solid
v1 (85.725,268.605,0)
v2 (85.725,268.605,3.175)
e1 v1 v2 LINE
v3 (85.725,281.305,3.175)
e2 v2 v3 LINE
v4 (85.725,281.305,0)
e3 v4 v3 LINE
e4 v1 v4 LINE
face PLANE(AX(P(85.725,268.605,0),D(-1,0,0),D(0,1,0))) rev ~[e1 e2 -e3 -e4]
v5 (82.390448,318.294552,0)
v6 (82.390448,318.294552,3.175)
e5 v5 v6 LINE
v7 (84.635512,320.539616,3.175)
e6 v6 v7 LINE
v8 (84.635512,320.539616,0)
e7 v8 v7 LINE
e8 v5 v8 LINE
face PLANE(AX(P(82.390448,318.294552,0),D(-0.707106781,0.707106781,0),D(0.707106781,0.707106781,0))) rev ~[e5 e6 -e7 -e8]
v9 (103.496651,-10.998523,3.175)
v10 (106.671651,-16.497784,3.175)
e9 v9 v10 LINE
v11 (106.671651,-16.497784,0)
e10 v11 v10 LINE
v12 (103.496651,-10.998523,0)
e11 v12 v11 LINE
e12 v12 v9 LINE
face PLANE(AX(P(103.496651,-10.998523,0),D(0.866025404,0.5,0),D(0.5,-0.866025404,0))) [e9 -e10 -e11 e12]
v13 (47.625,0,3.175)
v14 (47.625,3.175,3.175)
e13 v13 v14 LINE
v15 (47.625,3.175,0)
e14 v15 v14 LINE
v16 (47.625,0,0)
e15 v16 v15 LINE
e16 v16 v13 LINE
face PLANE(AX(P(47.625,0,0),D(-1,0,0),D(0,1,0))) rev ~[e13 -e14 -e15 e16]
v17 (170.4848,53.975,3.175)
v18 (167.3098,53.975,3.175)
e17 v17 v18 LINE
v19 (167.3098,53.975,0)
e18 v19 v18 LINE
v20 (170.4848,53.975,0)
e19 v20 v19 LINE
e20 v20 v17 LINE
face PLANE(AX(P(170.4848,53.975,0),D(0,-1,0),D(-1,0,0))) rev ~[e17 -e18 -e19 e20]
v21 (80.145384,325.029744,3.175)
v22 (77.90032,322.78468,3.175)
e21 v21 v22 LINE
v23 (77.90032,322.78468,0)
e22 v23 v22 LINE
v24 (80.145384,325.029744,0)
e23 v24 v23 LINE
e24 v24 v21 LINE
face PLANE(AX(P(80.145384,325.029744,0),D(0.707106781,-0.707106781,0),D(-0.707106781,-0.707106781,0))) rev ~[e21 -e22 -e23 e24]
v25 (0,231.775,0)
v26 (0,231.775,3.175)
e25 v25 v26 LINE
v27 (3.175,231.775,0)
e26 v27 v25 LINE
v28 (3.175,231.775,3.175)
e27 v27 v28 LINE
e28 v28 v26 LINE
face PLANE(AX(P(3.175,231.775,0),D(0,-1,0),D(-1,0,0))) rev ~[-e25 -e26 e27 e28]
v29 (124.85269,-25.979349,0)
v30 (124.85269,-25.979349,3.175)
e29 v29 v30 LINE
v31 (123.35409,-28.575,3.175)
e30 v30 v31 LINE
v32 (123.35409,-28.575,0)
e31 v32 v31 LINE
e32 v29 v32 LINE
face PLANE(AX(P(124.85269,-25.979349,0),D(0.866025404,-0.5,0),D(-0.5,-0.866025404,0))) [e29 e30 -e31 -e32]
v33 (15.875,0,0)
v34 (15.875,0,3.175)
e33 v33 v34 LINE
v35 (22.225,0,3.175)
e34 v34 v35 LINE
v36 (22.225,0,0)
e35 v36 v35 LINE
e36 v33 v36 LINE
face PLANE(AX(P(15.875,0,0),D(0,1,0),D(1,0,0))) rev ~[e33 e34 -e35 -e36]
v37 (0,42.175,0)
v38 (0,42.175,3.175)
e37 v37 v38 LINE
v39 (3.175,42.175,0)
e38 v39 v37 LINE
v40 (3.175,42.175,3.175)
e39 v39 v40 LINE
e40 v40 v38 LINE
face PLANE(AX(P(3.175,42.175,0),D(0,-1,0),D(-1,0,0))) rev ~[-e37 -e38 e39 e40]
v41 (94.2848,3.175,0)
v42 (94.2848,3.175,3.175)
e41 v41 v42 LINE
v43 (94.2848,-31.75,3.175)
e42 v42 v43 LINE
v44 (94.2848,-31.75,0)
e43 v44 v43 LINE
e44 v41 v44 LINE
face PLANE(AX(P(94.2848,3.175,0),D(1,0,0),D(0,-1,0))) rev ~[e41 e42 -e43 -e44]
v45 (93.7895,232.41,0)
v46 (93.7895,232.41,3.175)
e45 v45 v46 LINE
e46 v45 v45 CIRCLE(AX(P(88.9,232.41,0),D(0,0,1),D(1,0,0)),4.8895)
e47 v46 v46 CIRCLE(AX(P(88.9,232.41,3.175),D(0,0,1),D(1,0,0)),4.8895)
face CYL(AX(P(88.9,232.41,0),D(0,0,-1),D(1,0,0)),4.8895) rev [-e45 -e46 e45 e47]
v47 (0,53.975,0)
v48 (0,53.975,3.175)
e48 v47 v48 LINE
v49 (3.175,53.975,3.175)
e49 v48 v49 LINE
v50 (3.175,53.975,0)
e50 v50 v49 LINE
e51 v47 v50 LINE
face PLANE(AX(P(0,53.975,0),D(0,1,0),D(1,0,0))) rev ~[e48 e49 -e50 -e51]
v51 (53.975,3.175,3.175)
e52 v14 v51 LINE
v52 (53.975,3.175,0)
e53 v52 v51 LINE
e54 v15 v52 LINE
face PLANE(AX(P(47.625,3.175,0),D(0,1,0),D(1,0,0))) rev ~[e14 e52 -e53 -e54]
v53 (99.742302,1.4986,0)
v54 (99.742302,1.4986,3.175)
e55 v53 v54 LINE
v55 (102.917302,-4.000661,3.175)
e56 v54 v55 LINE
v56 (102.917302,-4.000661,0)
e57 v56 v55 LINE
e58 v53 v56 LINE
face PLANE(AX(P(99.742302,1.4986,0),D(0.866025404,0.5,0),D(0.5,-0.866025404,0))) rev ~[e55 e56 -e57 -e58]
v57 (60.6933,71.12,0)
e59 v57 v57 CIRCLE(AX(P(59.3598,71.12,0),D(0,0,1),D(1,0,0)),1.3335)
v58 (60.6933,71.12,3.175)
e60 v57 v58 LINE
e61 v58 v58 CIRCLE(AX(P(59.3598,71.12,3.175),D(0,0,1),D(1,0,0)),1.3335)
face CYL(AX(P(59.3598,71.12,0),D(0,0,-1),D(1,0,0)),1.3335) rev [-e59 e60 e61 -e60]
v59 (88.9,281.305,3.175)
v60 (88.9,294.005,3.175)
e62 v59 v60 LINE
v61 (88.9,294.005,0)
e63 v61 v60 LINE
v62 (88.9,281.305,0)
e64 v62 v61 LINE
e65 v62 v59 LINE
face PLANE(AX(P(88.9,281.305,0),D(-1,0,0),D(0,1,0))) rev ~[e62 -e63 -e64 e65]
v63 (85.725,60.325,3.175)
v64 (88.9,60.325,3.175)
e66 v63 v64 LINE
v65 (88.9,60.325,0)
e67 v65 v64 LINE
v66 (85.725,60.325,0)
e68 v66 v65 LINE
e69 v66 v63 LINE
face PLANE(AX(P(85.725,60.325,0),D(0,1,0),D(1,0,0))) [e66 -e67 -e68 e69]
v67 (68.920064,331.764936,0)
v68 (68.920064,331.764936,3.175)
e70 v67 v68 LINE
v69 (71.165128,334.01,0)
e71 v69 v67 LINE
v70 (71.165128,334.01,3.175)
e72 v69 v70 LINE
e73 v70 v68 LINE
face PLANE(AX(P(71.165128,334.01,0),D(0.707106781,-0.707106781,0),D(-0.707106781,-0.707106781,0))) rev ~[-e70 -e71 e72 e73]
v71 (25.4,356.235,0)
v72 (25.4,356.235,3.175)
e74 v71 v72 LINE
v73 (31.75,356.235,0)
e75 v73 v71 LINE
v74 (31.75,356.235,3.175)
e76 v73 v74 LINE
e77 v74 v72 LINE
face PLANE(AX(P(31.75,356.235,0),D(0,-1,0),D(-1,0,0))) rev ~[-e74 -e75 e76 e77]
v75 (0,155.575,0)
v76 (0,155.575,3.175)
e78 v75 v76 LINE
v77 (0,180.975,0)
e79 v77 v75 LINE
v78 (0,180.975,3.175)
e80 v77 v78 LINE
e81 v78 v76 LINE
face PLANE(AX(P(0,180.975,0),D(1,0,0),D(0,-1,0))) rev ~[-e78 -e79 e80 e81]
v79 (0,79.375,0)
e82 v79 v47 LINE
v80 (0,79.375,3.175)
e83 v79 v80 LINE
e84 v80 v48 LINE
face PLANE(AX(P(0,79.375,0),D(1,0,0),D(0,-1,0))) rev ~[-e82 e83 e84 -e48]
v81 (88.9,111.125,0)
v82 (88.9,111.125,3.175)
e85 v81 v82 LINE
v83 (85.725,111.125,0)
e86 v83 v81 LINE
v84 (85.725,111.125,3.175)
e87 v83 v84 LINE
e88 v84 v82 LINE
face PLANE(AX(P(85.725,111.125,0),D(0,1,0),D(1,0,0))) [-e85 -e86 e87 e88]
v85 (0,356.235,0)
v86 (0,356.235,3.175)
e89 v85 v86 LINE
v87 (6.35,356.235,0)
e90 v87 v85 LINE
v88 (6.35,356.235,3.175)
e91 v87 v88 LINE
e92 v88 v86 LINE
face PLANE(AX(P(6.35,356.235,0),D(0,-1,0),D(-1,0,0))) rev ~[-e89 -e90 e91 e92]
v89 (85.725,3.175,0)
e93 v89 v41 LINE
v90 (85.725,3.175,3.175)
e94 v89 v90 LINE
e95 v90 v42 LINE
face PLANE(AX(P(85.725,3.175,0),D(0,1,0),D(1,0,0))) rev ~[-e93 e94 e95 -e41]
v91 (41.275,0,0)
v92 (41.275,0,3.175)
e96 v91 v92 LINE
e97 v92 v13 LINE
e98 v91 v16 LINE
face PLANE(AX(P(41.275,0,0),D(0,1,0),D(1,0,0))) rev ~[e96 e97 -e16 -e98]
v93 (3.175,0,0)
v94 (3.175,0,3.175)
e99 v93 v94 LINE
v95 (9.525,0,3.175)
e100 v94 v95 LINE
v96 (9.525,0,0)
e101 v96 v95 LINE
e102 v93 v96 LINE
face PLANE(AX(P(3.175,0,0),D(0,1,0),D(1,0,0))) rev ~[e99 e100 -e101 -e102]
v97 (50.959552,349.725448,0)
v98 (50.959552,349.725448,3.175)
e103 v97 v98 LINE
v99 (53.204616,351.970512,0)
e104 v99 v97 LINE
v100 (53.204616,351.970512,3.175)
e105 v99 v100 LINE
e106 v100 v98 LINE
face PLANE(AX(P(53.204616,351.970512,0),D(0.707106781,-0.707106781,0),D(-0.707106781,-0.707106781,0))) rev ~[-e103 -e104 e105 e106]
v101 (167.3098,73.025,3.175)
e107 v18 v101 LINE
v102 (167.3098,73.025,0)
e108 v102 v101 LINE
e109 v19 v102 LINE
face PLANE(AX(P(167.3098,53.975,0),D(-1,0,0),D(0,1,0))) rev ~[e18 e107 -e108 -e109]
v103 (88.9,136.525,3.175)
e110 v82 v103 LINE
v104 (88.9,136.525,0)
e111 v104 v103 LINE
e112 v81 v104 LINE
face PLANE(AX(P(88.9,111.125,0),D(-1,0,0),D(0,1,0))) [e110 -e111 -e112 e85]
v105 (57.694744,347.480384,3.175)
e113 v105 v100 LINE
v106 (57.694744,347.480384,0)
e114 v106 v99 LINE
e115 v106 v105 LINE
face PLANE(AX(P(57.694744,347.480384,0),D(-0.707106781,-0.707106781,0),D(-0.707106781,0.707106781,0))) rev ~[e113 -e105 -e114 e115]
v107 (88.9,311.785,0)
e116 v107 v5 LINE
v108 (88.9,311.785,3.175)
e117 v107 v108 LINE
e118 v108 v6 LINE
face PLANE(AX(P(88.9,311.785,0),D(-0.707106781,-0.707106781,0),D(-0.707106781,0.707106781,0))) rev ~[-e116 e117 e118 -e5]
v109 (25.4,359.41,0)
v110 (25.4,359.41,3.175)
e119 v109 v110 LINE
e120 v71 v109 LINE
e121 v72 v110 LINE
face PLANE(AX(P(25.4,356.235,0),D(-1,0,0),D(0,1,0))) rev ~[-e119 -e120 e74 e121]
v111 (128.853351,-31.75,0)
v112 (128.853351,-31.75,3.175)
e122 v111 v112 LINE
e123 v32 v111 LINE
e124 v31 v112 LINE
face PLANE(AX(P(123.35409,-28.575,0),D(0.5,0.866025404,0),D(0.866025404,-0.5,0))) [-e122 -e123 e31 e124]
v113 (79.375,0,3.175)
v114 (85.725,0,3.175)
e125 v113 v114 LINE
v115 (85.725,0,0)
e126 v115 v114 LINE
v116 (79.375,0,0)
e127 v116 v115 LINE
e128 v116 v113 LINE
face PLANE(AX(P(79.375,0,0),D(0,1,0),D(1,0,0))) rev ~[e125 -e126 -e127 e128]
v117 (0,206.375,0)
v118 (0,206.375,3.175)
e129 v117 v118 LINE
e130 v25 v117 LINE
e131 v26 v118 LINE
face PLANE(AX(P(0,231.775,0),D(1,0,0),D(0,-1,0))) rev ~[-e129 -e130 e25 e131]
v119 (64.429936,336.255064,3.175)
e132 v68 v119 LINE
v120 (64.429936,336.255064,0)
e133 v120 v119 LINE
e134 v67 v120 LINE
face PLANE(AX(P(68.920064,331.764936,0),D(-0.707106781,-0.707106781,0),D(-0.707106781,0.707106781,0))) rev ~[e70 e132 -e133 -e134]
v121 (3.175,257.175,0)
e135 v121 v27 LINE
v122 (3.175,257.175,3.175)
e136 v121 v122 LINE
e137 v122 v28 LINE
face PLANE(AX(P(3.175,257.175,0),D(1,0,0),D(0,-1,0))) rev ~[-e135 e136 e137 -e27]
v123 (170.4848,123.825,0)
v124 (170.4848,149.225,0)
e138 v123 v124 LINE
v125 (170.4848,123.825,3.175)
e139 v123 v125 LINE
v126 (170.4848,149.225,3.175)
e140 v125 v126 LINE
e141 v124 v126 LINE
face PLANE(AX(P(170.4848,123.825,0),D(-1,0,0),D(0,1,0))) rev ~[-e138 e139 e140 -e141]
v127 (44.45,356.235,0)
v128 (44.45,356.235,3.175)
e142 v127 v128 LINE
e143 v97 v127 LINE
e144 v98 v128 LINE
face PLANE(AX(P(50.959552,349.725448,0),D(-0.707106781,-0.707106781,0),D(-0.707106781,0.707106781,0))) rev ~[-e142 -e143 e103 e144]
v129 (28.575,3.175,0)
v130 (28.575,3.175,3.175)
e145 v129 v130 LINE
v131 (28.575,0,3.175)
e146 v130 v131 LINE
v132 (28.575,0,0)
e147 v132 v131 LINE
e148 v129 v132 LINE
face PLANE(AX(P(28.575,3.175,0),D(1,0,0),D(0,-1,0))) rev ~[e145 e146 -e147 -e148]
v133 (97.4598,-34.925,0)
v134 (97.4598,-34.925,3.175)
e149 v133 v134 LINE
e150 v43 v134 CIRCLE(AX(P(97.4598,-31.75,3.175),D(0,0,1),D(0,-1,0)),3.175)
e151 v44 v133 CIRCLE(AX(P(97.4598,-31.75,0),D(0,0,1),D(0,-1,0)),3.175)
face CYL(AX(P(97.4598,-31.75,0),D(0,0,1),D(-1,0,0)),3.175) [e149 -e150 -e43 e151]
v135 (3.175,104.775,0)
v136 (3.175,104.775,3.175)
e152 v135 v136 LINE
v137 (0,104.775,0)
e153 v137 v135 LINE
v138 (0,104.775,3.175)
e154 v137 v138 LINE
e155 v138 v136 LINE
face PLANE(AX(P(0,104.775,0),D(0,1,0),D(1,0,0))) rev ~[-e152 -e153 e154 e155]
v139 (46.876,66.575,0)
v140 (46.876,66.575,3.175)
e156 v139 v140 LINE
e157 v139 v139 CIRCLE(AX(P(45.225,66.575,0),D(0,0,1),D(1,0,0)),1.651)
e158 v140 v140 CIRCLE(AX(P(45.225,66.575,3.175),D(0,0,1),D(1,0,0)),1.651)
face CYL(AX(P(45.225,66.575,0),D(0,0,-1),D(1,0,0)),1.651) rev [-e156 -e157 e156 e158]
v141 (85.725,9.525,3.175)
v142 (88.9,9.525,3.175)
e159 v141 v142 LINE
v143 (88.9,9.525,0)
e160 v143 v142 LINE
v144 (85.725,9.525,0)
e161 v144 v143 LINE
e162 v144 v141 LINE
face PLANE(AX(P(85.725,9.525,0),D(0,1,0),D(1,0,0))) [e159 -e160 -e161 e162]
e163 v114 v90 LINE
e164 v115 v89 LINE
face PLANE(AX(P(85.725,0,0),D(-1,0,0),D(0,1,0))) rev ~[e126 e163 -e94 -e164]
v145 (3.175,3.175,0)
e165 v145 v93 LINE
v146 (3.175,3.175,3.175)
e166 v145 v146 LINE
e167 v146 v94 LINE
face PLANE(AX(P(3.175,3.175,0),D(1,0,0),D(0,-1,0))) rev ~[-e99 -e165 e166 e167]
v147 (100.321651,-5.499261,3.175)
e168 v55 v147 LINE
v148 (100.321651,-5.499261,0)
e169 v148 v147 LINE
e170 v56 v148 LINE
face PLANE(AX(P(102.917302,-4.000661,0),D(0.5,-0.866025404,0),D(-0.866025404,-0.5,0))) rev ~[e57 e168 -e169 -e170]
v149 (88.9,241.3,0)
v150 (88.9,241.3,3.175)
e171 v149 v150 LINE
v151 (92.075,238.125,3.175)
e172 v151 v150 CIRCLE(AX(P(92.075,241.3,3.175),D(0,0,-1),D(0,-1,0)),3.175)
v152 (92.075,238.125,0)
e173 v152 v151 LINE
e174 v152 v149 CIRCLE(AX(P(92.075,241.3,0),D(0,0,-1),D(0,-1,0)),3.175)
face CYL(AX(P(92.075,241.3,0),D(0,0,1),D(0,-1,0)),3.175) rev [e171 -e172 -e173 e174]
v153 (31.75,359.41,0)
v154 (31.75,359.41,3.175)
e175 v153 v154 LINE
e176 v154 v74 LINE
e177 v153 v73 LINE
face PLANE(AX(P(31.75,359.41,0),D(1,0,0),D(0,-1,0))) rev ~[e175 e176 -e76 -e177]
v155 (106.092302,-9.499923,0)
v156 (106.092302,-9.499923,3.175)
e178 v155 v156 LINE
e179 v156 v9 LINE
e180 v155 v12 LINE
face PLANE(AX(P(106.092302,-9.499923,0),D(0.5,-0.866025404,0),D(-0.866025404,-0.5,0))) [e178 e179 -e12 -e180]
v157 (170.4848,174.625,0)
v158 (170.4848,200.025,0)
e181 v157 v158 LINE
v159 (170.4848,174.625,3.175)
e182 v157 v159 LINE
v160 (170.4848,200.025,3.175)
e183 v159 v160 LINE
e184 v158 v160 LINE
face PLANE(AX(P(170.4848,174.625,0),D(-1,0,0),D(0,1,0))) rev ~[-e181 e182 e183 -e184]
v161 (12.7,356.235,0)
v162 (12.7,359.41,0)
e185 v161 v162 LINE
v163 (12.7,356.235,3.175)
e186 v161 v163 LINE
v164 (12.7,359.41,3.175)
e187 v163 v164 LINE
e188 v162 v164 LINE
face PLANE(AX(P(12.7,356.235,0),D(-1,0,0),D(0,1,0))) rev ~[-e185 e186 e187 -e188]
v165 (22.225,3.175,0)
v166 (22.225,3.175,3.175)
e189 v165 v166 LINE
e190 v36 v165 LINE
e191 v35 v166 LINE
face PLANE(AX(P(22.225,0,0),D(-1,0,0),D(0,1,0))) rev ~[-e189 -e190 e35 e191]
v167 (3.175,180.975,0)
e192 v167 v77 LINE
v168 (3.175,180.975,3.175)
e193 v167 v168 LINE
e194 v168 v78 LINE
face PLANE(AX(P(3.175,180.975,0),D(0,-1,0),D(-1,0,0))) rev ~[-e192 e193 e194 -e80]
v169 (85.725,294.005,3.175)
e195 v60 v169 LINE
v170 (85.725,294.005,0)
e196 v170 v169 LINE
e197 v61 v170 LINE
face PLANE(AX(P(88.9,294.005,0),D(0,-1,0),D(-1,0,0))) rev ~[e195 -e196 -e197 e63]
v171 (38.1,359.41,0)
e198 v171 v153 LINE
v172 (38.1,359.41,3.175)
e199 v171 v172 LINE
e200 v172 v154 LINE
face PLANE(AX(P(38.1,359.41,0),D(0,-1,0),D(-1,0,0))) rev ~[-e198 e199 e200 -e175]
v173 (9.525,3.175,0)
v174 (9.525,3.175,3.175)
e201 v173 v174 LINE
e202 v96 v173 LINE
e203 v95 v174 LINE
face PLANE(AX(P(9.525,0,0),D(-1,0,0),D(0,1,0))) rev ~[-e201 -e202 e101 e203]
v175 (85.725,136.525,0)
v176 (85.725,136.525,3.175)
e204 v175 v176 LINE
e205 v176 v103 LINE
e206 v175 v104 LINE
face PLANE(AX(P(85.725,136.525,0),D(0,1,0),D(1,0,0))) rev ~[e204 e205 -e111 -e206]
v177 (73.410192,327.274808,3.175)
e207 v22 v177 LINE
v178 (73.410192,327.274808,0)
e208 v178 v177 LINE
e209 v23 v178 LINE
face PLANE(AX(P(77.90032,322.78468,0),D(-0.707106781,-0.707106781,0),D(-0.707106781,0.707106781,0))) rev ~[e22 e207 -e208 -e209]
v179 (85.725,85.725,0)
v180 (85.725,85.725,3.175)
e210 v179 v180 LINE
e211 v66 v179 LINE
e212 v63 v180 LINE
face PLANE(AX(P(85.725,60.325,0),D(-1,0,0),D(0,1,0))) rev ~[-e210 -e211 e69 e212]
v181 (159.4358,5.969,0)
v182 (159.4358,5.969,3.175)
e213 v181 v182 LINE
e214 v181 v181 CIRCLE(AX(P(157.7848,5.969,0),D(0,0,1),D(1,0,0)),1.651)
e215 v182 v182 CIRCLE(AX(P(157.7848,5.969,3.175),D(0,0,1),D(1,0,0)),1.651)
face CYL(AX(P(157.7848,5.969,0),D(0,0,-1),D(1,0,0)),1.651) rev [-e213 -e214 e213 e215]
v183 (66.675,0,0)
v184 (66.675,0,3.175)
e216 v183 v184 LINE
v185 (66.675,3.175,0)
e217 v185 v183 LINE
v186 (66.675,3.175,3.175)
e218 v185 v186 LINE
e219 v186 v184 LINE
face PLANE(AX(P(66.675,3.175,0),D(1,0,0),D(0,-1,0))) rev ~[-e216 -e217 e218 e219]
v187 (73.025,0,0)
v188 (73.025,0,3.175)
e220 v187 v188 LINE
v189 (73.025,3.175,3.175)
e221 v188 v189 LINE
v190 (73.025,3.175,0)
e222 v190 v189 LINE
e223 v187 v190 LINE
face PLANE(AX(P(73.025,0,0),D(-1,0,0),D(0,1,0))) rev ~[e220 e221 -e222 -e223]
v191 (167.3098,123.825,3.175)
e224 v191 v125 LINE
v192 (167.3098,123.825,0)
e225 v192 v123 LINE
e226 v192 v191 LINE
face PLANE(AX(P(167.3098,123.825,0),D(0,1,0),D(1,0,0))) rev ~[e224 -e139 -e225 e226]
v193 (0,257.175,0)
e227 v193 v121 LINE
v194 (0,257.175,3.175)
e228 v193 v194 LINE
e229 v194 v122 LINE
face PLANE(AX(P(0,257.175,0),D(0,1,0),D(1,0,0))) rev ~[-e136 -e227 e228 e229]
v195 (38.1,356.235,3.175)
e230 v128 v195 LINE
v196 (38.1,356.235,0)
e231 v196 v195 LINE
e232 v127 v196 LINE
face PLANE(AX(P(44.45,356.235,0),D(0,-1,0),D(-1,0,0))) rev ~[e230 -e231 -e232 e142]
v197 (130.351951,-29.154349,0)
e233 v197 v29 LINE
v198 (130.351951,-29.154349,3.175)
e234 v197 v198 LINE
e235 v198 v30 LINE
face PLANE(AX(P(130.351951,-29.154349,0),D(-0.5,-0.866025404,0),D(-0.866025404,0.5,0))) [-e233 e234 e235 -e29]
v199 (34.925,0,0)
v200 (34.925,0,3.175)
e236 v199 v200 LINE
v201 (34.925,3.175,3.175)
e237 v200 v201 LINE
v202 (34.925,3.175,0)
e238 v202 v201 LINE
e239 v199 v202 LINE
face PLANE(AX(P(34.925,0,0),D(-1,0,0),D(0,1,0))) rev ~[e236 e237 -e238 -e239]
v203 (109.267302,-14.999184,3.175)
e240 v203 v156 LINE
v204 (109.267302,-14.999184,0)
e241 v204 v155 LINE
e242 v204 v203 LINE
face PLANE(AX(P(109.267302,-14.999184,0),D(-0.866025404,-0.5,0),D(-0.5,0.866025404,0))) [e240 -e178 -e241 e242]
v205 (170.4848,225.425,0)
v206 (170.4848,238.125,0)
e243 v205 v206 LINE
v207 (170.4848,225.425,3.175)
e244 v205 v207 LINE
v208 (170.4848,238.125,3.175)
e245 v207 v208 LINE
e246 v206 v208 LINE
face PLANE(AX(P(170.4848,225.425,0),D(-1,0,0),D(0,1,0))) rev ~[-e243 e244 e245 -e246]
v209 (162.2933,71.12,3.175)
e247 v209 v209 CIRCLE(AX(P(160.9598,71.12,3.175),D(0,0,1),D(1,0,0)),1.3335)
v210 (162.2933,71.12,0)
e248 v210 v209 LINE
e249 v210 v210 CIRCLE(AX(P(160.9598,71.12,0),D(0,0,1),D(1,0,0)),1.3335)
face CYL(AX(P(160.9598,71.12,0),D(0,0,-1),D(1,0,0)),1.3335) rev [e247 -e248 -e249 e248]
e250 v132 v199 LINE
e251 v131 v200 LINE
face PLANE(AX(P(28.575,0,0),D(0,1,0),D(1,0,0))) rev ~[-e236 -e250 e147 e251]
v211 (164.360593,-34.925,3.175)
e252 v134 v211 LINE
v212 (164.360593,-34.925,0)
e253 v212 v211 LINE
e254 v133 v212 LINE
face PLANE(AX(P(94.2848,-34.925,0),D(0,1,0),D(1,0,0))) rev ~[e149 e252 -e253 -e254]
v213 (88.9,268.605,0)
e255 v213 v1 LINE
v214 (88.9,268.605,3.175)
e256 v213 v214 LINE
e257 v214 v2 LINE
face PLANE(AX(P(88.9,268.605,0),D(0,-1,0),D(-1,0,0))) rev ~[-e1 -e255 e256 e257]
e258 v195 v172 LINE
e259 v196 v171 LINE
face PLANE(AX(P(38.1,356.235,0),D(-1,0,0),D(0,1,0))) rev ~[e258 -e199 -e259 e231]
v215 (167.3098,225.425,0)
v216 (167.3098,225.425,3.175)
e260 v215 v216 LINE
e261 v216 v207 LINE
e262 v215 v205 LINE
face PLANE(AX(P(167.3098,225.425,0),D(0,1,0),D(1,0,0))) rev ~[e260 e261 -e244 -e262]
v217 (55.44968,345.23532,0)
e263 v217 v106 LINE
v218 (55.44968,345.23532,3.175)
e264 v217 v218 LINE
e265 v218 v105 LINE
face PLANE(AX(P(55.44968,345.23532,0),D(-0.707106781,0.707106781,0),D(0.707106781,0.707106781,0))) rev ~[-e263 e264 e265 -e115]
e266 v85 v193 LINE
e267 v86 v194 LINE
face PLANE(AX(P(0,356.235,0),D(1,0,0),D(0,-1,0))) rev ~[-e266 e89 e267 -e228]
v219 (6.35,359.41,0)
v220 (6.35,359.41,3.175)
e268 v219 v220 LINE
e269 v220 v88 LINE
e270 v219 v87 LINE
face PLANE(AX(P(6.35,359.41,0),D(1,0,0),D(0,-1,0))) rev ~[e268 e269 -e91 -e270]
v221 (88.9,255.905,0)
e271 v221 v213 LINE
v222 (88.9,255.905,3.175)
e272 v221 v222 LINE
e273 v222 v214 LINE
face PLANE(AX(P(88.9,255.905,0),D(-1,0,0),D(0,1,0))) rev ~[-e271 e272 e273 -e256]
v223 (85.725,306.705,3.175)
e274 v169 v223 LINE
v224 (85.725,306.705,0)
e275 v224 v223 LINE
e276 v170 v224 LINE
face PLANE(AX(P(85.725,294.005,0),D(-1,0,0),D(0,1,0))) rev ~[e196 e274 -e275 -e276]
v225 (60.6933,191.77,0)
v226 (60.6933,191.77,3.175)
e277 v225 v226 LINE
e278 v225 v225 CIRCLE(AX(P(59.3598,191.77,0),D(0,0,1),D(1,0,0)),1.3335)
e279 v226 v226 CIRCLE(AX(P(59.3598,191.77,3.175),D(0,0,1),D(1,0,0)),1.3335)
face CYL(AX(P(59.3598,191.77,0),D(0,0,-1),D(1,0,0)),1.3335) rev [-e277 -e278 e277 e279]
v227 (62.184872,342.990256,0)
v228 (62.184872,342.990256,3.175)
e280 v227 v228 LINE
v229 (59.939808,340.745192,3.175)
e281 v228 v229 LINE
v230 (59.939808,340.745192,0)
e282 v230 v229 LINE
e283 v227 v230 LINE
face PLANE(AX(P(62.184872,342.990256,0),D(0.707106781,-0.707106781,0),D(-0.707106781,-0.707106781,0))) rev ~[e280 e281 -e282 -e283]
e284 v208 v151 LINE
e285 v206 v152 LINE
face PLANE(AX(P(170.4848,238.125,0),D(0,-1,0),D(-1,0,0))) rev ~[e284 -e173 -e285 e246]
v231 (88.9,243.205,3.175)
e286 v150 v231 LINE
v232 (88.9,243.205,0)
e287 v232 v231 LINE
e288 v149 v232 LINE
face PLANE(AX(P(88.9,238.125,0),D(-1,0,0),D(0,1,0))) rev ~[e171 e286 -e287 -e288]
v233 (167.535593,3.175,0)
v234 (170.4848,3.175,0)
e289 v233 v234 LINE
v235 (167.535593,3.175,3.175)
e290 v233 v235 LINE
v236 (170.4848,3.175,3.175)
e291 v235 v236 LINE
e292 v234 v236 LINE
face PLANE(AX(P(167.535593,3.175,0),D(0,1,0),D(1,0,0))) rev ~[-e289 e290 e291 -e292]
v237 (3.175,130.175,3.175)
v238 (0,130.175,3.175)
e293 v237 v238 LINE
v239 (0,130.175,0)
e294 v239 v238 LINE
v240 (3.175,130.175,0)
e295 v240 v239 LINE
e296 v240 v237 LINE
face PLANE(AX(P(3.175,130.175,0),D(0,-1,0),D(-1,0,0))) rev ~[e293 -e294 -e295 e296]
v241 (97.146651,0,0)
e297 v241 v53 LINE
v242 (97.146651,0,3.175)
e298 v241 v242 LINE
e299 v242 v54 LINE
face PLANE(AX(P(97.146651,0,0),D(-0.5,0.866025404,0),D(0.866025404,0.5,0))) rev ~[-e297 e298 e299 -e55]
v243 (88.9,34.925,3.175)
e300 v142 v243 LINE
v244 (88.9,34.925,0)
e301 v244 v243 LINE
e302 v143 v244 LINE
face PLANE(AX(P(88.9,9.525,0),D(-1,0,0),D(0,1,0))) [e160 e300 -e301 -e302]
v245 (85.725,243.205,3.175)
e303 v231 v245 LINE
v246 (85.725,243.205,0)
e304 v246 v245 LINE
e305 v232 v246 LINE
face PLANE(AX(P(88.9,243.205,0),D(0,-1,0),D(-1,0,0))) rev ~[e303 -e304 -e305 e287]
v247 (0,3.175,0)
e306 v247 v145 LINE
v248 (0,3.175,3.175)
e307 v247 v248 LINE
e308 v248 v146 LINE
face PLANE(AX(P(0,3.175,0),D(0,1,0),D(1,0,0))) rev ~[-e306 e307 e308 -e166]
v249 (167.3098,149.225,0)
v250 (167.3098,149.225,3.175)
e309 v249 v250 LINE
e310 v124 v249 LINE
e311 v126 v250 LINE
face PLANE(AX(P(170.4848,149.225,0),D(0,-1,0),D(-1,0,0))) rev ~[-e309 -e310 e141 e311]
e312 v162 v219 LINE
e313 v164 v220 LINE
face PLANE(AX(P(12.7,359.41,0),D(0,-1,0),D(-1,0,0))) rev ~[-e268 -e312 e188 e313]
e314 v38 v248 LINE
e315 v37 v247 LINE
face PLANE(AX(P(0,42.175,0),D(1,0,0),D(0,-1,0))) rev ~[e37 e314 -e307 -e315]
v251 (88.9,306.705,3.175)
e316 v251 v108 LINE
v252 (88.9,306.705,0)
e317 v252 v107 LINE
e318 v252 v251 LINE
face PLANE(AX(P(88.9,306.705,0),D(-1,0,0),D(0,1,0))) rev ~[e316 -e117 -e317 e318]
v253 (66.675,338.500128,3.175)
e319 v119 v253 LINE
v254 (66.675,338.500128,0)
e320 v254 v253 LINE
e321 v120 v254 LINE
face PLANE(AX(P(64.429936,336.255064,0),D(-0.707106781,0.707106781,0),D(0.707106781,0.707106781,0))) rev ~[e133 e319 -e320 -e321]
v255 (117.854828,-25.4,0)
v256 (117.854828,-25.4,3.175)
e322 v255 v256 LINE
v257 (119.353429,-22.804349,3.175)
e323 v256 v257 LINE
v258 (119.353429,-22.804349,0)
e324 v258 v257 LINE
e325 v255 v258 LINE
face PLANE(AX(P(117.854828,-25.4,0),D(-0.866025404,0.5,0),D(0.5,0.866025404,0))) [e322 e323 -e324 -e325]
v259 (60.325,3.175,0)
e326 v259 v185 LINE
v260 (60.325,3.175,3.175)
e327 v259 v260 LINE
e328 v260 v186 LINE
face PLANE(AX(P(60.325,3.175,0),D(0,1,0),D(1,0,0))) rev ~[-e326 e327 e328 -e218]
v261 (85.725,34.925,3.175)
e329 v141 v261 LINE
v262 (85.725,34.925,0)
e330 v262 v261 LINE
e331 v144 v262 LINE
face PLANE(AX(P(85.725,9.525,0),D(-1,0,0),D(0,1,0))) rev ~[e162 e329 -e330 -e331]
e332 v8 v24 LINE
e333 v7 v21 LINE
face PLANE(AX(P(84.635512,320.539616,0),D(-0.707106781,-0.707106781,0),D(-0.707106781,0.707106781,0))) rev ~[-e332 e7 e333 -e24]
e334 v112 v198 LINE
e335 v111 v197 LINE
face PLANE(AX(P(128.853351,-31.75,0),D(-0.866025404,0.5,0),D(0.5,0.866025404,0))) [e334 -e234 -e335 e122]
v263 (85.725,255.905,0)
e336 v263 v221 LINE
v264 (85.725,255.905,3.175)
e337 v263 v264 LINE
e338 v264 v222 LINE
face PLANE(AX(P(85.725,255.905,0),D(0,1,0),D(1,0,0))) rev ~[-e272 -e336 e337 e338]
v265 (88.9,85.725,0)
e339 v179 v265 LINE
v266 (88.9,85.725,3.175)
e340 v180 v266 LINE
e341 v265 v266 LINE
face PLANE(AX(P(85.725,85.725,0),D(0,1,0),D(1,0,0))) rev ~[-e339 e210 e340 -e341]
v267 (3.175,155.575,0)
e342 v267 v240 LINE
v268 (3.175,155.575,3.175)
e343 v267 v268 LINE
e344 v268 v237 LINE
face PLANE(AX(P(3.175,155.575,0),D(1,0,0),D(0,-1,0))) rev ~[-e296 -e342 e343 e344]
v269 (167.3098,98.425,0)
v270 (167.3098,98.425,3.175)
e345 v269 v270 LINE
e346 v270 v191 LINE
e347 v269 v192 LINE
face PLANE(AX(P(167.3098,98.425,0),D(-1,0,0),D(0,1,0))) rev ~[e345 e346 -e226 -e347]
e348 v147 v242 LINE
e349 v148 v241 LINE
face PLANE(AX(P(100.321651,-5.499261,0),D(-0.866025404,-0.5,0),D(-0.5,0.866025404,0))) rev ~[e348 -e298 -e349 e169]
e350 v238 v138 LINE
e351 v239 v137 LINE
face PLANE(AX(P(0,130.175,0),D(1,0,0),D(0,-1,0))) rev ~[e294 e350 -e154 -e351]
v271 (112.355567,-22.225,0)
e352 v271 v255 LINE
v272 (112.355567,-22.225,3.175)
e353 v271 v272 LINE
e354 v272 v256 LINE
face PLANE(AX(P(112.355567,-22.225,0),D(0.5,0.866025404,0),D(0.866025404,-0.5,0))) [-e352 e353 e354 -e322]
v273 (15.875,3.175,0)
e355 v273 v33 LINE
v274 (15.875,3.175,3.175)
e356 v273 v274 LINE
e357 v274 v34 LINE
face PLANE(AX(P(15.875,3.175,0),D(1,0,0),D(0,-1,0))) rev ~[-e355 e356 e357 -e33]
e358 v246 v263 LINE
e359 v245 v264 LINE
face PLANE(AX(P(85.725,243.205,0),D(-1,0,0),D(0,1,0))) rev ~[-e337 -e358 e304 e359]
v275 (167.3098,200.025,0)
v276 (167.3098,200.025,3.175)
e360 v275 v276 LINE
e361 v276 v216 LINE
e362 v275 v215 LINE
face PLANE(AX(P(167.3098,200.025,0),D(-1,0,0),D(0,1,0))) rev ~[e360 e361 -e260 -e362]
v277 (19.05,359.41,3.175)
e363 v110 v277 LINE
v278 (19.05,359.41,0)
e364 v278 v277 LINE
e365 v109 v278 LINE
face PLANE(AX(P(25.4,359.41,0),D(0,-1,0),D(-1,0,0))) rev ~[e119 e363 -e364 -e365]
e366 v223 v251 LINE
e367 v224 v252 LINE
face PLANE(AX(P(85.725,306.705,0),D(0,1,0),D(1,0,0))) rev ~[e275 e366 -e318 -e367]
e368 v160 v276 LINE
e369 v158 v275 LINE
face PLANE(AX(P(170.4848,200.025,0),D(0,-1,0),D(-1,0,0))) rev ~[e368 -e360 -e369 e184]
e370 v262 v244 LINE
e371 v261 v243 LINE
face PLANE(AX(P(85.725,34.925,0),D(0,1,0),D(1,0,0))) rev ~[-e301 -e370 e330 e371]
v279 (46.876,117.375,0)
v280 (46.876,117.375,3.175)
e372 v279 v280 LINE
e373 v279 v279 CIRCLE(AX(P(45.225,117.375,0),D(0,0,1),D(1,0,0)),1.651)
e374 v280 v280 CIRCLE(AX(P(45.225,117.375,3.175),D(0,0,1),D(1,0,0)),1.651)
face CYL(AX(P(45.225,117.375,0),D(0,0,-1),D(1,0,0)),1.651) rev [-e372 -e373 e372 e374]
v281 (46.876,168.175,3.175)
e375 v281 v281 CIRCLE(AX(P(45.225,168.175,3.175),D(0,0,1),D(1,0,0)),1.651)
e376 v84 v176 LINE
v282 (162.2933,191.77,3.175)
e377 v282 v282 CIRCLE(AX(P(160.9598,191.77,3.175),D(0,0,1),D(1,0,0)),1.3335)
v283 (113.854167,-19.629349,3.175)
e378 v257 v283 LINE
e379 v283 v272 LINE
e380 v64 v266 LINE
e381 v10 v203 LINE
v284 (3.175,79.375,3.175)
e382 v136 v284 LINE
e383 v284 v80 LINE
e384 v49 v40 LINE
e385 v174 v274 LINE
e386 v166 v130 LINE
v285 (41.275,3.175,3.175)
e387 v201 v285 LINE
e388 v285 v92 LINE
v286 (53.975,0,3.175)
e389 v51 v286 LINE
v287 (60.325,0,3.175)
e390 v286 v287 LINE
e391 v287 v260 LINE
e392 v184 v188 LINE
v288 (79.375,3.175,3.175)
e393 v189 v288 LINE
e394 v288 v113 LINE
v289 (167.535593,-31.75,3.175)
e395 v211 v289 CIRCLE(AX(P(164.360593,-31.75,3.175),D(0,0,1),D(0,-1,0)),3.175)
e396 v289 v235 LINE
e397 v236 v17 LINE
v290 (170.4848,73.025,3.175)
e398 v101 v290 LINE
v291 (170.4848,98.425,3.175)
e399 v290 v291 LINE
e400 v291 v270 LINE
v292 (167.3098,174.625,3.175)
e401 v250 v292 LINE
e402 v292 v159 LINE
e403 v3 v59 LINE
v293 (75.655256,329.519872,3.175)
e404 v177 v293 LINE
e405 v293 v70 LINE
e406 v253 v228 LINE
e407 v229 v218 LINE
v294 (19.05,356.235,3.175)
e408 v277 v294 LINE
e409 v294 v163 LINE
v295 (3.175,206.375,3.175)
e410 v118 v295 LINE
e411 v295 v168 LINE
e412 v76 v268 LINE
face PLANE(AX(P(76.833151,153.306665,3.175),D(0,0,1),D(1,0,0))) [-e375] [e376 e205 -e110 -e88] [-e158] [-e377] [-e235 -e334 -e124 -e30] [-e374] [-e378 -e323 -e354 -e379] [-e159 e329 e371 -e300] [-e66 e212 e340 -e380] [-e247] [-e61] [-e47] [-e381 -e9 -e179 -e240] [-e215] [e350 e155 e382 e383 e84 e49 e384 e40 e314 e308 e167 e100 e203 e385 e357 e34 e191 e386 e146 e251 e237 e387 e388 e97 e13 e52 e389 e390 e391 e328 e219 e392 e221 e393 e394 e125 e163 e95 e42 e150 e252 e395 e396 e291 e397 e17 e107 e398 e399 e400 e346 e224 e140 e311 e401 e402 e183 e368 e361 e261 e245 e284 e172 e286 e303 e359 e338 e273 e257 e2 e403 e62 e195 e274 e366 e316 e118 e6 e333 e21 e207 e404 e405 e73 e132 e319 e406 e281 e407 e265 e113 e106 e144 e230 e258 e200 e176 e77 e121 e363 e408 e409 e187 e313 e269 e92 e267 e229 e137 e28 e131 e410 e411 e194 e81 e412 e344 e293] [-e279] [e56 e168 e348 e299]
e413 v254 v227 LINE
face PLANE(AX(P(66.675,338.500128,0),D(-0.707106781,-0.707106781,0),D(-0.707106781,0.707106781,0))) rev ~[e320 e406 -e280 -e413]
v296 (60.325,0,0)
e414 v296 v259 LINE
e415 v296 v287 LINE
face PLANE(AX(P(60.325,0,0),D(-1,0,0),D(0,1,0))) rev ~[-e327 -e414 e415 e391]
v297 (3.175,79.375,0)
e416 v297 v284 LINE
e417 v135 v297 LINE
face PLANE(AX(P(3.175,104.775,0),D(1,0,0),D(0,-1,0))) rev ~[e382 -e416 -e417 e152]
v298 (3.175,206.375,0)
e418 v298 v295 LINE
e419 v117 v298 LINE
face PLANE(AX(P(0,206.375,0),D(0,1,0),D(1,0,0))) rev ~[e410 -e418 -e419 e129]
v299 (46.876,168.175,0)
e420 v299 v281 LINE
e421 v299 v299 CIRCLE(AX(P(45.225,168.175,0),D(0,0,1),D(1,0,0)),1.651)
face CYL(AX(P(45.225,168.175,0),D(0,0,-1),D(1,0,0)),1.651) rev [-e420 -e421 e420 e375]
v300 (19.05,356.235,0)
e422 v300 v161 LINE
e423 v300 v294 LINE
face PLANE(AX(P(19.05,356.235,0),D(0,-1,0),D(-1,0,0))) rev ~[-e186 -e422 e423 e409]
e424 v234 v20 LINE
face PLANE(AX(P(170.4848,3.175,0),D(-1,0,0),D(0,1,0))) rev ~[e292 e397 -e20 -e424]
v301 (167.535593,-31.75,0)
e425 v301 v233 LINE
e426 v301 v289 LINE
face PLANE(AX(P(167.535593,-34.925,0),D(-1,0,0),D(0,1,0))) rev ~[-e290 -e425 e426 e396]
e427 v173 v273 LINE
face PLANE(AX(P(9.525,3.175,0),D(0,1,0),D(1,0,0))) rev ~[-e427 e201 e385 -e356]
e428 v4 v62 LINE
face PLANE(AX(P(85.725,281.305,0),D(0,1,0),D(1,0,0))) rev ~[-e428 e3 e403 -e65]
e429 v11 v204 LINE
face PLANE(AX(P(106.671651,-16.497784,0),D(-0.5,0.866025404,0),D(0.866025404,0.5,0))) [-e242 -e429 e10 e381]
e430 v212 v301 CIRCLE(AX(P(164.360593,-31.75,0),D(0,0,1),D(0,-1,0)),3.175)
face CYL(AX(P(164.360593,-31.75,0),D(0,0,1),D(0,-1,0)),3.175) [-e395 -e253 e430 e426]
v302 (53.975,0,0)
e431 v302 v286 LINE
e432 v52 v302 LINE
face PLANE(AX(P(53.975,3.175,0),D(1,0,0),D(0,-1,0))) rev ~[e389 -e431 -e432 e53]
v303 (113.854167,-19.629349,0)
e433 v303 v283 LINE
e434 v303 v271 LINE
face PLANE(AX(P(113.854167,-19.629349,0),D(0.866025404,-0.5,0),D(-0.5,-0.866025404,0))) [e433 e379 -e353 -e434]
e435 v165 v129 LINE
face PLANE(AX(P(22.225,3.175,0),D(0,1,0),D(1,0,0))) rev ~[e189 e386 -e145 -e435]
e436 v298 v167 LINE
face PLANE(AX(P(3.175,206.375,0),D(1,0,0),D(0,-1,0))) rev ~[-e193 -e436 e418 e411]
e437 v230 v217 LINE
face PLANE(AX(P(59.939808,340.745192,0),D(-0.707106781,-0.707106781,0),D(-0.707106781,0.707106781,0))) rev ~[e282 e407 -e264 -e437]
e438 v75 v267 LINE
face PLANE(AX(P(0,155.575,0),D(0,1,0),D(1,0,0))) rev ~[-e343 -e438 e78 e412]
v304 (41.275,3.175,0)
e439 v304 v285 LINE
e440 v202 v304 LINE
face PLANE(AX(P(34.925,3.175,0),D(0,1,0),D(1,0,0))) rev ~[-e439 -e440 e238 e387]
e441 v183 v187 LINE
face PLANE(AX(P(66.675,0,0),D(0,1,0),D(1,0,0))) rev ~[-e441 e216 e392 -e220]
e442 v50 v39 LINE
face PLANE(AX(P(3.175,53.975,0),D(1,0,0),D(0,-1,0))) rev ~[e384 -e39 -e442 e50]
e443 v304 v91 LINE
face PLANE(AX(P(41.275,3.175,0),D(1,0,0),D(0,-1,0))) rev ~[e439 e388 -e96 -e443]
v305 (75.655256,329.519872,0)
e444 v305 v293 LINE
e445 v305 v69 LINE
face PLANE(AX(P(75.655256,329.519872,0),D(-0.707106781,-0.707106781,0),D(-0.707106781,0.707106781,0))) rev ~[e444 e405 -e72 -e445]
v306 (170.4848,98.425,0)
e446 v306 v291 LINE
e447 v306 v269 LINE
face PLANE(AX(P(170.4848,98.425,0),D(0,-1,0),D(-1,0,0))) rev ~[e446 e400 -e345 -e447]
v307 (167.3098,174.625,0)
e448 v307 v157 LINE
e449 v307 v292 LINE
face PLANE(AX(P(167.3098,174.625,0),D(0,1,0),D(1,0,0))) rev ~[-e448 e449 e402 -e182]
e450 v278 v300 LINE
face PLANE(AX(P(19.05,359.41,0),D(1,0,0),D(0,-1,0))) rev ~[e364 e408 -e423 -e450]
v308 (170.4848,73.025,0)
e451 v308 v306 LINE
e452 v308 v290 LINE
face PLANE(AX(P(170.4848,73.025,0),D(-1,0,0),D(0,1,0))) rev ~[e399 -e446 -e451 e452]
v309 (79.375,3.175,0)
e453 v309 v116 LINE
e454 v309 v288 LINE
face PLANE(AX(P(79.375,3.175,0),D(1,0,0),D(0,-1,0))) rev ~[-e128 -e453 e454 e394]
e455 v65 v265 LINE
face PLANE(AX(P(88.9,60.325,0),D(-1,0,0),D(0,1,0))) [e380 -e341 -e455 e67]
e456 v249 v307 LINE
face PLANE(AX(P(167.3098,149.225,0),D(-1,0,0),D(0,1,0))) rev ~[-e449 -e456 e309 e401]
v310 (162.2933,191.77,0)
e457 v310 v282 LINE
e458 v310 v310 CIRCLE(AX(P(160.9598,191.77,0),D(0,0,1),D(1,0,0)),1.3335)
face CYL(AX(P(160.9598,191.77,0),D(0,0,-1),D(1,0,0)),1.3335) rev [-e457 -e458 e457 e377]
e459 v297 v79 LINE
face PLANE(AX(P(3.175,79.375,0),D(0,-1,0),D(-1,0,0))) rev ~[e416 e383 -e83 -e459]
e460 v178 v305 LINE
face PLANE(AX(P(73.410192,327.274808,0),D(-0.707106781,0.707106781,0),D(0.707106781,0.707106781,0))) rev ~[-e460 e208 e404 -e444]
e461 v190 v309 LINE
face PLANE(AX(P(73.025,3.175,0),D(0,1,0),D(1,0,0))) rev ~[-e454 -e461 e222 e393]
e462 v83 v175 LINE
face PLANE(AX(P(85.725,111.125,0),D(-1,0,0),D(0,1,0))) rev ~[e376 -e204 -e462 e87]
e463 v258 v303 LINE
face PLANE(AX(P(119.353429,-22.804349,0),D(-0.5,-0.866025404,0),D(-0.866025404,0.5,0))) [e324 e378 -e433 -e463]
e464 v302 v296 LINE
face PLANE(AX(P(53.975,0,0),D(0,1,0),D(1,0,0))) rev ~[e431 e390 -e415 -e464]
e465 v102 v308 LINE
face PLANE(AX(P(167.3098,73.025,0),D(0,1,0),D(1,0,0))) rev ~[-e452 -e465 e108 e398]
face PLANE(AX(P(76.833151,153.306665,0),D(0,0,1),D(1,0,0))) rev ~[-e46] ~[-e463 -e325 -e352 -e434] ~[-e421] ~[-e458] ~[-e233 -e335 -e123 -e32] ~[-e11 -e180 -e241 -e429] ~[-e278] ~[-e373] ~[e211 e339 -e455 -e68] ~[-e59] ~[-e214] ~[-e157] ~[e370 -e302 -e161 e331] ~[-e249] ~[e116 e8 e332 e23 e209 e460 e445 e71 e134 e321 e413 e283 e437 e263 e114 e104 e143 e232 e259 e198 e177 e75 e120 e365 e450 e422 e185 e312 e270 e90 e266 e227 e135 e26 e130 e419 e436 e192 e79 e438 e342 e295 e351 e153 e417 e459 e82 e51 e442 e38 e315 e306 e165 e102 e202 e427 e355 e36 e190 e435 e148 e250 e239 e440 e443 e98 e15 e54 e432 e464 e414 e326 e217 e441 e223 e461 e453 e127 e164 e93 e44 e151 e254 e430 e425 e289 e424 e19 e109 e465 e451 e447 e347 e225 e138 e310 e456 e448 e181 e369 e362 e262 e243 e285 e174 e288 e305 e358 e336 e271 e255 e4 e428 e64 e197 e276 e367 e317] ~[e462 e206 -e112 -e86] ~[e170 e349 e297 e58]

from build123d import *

# Parameters (mm, degrees)
SKETCH1_R           = 4.8895
SKETCH1_R_2         = 1.3335
SKETCH1_R_3         = 1.651
SKETCH1_W           = 3.175
SKETCH1_H           = 25.4
BOSS_EXTRUDE2_DEPTH = 3.175
FILLET1_R           = 3.175


with BuildPart() as part:
    # Sketch1 → Boss-Extrude2 (new body)
    with BuildSketch(Plane.XY):
        Polygon((0, 3.175), (3.175, 3.175), (3.175, 0), (9.525, 0), (9.525, 3.175), (15.875, 3.175), (15.875, 0), (22.225, 0), (22.225, 3.175), (28.575, 3.175), (28.575, 0), (34.925, 0), (34.925, 3.175), (41.275, 3.175), (41.275, 0), (47.625, 0), (47.625, 3.175), (53.975, 3.175), (53.975, 0), (60.325, 0), (60.325, 3.175), (66.675, 3.175), (66.675, 0), (73.025, 0), (73.025, 3.175), (79.375, 3.175), (79.375, 0), (85.725, 0), (85.725, 3.175), (88.9, 3.175), (94.2848, 3.175), (94.2848, -34.925), (167.535593046, -34.925), (167.535593046, 3.175), (170.4848, 3.175), (170.4848, 53.975), (167.3098, 53.975), (167.3098, 73.025), (170.4848, 73.025), (170.4848, 98.425), (167.3098, 98.425), (167.3098, 123.825), (170.4848, 123.825), (170.4848, 149.225), (167.3098, 149.225), (167.3098, 174.625), (170.4848, 174.625), (170.4848, 200.025), (167.3098, 200.025), (167.3098, 225.425), (170.4848, 225.425), (170.4848, 238.125), (88.9, 238.125), (88.9, 243.205), (85.725, 243.205), (85.725, 255.905), (88.9, 255.905), (88.9, 268.605), (85.725, 268.605), (85.725, 281.305), (88.9, 281.305), (88.9, 294.005), (85.725, 294.005), (85.725, 306.705), (88.9, 306.705), (88.9, 311.785), (82.390448212, 318.294551788), (84.635512242, 320.539615818), (80.145384182, 325.029743879), (77.900320151, 322.784679849), (73.410192091, 327.274807909), (75.655256121, 329.519871939), (71.165128061, 334.01), (68.92006403, 331.76493597), (64.42993597, 336.25506403), (66.675, 338.500128061), (62.184871939, 342.990256121), (59.939807909, 340.745192091), (55.449679849, 345.235320151), (57.694743879, 347.480384182), (53.204615818, 351.970512242), (50.959551788, 349.725448212), (44.45, 356.235), (38.1, 356.235), (38.1, 359.41), (31.75, 359.41), (31.75, 356.235), (25.4, 356.235), (25.4, 359.41), (19.05, 359.41), (19.05, 356.235), (12.7, 356.235), (12.7, 359.41), (6.35, 359.41), (6.35, 356.235), (0, 356.235), (0, 257.175), (3.175, 257.175), (3.175, 231.775), (0, 231.775), (0, 206.375), (3.175, 206.375), (3.175, 180.975), (0, 180.975), (0, 155.575), (3.175, 155.575), (3.175, 130.175), (0, 130.175), (0, 104.775), (3.175, 104.775), (3.175, 79.375), (0, 79.375), (0, 53.975), (3.175, 53.975), (3.175, 42.175), (0, 42.175), (0, 28.575), align=None)
        with Locations((88.9, 232.41)):
            Circle(SKETCH1_R, mode=Mode.SUBTRACT)
        with Locations((59.3598, 191.77)):
            Circle(SKETCH1_R_2, mode=Mode.SUBTRACT)
        with Locations((59.3598, 71.12)):
            Circle(SKETCH1_R_2, mode=Mode.SUBTRACT)
        with Locations((160.9598, 71.12)):
            Circle(SKETCH1_R_2, mode=Mode.SUBTRACT)
        with Locations((160.9598, 191.77)):
            Circle(SKETCH1_R_2, mode=Mode.SUBTRACT)
        with Locations((45.225, 66.574999946)):
            Circle(SKETCH1_R_3, mode=Mode.SUBTRACT)
        with Locations((45.225, 117.374999946)):
            Circle(SKETCH1_R_3, mode=Mode.SUBTRACT)
        with Locations((45.225, 168.174999946)):
            Circle(SKETCH1_R_3, mode=Mode.SUBTRACT)
        with Locations((157.7848, 5.969)):
            Circle(SKETCH1_R_3, mode=Mode.SUBTRACT)
        with Locations((87.3125, 123.825)):
            Rectangle(SKETCH1_W, SKETCH1_H, mode=Mode.SUBTRACT)
        Polygon((99.742302456, 1.4986), (102.917302456, -4.000661314), (100.321651116, -5.499261314), (97.146651116, 0), align=None, mode=Mode.SUBTRACT)
        with Locations((87.3125, 73.025)):
            Rectangle(SKETCH1_W, SKETCH1_H, mode=Mode.SUBTRACT)
        with Locations((87.3125, 22.225)):
            Rectangle(SKETCH1_W, SKETCH1_H, mode=Mode.SUBTRACT)
        Polygon((106.092302456, -9.499922628), (103.496651116, -10.998522628), (106.671651116, -16.497783942), (109.267302456, -14.999183942), align=None, mode=Mode.SUBTRACT)
        Polygon((113.854167186, -19.62934866), (112.355567186, -22.225), (117.8548285, -25.4), (119.3534285, -22.80434866), align=None, mode=Mode.SUBTRACT)
        Polygon((124.852689814, -25.97934866), (123.354089814, -28.575), (128.853351128, -31.75), (130.351951128, -29.15434866), align=None, mode=Mode.SUBTRACT)
    extrude(amount=BOSS_EXTRUDE2_DEPTH)

    # Fillet1
    fillet1_edges = [part.edges().sort_by_distance(p)[0] for p in [
        (88.9, 238.125, 1.5875),
        (167.535593046, -34.925, 1.5875),
        (94.2848, -34.925, 1.5875),
    ]]
    fillet(fillet1_edges, radius=FILLET1_R)


solid = part.part
